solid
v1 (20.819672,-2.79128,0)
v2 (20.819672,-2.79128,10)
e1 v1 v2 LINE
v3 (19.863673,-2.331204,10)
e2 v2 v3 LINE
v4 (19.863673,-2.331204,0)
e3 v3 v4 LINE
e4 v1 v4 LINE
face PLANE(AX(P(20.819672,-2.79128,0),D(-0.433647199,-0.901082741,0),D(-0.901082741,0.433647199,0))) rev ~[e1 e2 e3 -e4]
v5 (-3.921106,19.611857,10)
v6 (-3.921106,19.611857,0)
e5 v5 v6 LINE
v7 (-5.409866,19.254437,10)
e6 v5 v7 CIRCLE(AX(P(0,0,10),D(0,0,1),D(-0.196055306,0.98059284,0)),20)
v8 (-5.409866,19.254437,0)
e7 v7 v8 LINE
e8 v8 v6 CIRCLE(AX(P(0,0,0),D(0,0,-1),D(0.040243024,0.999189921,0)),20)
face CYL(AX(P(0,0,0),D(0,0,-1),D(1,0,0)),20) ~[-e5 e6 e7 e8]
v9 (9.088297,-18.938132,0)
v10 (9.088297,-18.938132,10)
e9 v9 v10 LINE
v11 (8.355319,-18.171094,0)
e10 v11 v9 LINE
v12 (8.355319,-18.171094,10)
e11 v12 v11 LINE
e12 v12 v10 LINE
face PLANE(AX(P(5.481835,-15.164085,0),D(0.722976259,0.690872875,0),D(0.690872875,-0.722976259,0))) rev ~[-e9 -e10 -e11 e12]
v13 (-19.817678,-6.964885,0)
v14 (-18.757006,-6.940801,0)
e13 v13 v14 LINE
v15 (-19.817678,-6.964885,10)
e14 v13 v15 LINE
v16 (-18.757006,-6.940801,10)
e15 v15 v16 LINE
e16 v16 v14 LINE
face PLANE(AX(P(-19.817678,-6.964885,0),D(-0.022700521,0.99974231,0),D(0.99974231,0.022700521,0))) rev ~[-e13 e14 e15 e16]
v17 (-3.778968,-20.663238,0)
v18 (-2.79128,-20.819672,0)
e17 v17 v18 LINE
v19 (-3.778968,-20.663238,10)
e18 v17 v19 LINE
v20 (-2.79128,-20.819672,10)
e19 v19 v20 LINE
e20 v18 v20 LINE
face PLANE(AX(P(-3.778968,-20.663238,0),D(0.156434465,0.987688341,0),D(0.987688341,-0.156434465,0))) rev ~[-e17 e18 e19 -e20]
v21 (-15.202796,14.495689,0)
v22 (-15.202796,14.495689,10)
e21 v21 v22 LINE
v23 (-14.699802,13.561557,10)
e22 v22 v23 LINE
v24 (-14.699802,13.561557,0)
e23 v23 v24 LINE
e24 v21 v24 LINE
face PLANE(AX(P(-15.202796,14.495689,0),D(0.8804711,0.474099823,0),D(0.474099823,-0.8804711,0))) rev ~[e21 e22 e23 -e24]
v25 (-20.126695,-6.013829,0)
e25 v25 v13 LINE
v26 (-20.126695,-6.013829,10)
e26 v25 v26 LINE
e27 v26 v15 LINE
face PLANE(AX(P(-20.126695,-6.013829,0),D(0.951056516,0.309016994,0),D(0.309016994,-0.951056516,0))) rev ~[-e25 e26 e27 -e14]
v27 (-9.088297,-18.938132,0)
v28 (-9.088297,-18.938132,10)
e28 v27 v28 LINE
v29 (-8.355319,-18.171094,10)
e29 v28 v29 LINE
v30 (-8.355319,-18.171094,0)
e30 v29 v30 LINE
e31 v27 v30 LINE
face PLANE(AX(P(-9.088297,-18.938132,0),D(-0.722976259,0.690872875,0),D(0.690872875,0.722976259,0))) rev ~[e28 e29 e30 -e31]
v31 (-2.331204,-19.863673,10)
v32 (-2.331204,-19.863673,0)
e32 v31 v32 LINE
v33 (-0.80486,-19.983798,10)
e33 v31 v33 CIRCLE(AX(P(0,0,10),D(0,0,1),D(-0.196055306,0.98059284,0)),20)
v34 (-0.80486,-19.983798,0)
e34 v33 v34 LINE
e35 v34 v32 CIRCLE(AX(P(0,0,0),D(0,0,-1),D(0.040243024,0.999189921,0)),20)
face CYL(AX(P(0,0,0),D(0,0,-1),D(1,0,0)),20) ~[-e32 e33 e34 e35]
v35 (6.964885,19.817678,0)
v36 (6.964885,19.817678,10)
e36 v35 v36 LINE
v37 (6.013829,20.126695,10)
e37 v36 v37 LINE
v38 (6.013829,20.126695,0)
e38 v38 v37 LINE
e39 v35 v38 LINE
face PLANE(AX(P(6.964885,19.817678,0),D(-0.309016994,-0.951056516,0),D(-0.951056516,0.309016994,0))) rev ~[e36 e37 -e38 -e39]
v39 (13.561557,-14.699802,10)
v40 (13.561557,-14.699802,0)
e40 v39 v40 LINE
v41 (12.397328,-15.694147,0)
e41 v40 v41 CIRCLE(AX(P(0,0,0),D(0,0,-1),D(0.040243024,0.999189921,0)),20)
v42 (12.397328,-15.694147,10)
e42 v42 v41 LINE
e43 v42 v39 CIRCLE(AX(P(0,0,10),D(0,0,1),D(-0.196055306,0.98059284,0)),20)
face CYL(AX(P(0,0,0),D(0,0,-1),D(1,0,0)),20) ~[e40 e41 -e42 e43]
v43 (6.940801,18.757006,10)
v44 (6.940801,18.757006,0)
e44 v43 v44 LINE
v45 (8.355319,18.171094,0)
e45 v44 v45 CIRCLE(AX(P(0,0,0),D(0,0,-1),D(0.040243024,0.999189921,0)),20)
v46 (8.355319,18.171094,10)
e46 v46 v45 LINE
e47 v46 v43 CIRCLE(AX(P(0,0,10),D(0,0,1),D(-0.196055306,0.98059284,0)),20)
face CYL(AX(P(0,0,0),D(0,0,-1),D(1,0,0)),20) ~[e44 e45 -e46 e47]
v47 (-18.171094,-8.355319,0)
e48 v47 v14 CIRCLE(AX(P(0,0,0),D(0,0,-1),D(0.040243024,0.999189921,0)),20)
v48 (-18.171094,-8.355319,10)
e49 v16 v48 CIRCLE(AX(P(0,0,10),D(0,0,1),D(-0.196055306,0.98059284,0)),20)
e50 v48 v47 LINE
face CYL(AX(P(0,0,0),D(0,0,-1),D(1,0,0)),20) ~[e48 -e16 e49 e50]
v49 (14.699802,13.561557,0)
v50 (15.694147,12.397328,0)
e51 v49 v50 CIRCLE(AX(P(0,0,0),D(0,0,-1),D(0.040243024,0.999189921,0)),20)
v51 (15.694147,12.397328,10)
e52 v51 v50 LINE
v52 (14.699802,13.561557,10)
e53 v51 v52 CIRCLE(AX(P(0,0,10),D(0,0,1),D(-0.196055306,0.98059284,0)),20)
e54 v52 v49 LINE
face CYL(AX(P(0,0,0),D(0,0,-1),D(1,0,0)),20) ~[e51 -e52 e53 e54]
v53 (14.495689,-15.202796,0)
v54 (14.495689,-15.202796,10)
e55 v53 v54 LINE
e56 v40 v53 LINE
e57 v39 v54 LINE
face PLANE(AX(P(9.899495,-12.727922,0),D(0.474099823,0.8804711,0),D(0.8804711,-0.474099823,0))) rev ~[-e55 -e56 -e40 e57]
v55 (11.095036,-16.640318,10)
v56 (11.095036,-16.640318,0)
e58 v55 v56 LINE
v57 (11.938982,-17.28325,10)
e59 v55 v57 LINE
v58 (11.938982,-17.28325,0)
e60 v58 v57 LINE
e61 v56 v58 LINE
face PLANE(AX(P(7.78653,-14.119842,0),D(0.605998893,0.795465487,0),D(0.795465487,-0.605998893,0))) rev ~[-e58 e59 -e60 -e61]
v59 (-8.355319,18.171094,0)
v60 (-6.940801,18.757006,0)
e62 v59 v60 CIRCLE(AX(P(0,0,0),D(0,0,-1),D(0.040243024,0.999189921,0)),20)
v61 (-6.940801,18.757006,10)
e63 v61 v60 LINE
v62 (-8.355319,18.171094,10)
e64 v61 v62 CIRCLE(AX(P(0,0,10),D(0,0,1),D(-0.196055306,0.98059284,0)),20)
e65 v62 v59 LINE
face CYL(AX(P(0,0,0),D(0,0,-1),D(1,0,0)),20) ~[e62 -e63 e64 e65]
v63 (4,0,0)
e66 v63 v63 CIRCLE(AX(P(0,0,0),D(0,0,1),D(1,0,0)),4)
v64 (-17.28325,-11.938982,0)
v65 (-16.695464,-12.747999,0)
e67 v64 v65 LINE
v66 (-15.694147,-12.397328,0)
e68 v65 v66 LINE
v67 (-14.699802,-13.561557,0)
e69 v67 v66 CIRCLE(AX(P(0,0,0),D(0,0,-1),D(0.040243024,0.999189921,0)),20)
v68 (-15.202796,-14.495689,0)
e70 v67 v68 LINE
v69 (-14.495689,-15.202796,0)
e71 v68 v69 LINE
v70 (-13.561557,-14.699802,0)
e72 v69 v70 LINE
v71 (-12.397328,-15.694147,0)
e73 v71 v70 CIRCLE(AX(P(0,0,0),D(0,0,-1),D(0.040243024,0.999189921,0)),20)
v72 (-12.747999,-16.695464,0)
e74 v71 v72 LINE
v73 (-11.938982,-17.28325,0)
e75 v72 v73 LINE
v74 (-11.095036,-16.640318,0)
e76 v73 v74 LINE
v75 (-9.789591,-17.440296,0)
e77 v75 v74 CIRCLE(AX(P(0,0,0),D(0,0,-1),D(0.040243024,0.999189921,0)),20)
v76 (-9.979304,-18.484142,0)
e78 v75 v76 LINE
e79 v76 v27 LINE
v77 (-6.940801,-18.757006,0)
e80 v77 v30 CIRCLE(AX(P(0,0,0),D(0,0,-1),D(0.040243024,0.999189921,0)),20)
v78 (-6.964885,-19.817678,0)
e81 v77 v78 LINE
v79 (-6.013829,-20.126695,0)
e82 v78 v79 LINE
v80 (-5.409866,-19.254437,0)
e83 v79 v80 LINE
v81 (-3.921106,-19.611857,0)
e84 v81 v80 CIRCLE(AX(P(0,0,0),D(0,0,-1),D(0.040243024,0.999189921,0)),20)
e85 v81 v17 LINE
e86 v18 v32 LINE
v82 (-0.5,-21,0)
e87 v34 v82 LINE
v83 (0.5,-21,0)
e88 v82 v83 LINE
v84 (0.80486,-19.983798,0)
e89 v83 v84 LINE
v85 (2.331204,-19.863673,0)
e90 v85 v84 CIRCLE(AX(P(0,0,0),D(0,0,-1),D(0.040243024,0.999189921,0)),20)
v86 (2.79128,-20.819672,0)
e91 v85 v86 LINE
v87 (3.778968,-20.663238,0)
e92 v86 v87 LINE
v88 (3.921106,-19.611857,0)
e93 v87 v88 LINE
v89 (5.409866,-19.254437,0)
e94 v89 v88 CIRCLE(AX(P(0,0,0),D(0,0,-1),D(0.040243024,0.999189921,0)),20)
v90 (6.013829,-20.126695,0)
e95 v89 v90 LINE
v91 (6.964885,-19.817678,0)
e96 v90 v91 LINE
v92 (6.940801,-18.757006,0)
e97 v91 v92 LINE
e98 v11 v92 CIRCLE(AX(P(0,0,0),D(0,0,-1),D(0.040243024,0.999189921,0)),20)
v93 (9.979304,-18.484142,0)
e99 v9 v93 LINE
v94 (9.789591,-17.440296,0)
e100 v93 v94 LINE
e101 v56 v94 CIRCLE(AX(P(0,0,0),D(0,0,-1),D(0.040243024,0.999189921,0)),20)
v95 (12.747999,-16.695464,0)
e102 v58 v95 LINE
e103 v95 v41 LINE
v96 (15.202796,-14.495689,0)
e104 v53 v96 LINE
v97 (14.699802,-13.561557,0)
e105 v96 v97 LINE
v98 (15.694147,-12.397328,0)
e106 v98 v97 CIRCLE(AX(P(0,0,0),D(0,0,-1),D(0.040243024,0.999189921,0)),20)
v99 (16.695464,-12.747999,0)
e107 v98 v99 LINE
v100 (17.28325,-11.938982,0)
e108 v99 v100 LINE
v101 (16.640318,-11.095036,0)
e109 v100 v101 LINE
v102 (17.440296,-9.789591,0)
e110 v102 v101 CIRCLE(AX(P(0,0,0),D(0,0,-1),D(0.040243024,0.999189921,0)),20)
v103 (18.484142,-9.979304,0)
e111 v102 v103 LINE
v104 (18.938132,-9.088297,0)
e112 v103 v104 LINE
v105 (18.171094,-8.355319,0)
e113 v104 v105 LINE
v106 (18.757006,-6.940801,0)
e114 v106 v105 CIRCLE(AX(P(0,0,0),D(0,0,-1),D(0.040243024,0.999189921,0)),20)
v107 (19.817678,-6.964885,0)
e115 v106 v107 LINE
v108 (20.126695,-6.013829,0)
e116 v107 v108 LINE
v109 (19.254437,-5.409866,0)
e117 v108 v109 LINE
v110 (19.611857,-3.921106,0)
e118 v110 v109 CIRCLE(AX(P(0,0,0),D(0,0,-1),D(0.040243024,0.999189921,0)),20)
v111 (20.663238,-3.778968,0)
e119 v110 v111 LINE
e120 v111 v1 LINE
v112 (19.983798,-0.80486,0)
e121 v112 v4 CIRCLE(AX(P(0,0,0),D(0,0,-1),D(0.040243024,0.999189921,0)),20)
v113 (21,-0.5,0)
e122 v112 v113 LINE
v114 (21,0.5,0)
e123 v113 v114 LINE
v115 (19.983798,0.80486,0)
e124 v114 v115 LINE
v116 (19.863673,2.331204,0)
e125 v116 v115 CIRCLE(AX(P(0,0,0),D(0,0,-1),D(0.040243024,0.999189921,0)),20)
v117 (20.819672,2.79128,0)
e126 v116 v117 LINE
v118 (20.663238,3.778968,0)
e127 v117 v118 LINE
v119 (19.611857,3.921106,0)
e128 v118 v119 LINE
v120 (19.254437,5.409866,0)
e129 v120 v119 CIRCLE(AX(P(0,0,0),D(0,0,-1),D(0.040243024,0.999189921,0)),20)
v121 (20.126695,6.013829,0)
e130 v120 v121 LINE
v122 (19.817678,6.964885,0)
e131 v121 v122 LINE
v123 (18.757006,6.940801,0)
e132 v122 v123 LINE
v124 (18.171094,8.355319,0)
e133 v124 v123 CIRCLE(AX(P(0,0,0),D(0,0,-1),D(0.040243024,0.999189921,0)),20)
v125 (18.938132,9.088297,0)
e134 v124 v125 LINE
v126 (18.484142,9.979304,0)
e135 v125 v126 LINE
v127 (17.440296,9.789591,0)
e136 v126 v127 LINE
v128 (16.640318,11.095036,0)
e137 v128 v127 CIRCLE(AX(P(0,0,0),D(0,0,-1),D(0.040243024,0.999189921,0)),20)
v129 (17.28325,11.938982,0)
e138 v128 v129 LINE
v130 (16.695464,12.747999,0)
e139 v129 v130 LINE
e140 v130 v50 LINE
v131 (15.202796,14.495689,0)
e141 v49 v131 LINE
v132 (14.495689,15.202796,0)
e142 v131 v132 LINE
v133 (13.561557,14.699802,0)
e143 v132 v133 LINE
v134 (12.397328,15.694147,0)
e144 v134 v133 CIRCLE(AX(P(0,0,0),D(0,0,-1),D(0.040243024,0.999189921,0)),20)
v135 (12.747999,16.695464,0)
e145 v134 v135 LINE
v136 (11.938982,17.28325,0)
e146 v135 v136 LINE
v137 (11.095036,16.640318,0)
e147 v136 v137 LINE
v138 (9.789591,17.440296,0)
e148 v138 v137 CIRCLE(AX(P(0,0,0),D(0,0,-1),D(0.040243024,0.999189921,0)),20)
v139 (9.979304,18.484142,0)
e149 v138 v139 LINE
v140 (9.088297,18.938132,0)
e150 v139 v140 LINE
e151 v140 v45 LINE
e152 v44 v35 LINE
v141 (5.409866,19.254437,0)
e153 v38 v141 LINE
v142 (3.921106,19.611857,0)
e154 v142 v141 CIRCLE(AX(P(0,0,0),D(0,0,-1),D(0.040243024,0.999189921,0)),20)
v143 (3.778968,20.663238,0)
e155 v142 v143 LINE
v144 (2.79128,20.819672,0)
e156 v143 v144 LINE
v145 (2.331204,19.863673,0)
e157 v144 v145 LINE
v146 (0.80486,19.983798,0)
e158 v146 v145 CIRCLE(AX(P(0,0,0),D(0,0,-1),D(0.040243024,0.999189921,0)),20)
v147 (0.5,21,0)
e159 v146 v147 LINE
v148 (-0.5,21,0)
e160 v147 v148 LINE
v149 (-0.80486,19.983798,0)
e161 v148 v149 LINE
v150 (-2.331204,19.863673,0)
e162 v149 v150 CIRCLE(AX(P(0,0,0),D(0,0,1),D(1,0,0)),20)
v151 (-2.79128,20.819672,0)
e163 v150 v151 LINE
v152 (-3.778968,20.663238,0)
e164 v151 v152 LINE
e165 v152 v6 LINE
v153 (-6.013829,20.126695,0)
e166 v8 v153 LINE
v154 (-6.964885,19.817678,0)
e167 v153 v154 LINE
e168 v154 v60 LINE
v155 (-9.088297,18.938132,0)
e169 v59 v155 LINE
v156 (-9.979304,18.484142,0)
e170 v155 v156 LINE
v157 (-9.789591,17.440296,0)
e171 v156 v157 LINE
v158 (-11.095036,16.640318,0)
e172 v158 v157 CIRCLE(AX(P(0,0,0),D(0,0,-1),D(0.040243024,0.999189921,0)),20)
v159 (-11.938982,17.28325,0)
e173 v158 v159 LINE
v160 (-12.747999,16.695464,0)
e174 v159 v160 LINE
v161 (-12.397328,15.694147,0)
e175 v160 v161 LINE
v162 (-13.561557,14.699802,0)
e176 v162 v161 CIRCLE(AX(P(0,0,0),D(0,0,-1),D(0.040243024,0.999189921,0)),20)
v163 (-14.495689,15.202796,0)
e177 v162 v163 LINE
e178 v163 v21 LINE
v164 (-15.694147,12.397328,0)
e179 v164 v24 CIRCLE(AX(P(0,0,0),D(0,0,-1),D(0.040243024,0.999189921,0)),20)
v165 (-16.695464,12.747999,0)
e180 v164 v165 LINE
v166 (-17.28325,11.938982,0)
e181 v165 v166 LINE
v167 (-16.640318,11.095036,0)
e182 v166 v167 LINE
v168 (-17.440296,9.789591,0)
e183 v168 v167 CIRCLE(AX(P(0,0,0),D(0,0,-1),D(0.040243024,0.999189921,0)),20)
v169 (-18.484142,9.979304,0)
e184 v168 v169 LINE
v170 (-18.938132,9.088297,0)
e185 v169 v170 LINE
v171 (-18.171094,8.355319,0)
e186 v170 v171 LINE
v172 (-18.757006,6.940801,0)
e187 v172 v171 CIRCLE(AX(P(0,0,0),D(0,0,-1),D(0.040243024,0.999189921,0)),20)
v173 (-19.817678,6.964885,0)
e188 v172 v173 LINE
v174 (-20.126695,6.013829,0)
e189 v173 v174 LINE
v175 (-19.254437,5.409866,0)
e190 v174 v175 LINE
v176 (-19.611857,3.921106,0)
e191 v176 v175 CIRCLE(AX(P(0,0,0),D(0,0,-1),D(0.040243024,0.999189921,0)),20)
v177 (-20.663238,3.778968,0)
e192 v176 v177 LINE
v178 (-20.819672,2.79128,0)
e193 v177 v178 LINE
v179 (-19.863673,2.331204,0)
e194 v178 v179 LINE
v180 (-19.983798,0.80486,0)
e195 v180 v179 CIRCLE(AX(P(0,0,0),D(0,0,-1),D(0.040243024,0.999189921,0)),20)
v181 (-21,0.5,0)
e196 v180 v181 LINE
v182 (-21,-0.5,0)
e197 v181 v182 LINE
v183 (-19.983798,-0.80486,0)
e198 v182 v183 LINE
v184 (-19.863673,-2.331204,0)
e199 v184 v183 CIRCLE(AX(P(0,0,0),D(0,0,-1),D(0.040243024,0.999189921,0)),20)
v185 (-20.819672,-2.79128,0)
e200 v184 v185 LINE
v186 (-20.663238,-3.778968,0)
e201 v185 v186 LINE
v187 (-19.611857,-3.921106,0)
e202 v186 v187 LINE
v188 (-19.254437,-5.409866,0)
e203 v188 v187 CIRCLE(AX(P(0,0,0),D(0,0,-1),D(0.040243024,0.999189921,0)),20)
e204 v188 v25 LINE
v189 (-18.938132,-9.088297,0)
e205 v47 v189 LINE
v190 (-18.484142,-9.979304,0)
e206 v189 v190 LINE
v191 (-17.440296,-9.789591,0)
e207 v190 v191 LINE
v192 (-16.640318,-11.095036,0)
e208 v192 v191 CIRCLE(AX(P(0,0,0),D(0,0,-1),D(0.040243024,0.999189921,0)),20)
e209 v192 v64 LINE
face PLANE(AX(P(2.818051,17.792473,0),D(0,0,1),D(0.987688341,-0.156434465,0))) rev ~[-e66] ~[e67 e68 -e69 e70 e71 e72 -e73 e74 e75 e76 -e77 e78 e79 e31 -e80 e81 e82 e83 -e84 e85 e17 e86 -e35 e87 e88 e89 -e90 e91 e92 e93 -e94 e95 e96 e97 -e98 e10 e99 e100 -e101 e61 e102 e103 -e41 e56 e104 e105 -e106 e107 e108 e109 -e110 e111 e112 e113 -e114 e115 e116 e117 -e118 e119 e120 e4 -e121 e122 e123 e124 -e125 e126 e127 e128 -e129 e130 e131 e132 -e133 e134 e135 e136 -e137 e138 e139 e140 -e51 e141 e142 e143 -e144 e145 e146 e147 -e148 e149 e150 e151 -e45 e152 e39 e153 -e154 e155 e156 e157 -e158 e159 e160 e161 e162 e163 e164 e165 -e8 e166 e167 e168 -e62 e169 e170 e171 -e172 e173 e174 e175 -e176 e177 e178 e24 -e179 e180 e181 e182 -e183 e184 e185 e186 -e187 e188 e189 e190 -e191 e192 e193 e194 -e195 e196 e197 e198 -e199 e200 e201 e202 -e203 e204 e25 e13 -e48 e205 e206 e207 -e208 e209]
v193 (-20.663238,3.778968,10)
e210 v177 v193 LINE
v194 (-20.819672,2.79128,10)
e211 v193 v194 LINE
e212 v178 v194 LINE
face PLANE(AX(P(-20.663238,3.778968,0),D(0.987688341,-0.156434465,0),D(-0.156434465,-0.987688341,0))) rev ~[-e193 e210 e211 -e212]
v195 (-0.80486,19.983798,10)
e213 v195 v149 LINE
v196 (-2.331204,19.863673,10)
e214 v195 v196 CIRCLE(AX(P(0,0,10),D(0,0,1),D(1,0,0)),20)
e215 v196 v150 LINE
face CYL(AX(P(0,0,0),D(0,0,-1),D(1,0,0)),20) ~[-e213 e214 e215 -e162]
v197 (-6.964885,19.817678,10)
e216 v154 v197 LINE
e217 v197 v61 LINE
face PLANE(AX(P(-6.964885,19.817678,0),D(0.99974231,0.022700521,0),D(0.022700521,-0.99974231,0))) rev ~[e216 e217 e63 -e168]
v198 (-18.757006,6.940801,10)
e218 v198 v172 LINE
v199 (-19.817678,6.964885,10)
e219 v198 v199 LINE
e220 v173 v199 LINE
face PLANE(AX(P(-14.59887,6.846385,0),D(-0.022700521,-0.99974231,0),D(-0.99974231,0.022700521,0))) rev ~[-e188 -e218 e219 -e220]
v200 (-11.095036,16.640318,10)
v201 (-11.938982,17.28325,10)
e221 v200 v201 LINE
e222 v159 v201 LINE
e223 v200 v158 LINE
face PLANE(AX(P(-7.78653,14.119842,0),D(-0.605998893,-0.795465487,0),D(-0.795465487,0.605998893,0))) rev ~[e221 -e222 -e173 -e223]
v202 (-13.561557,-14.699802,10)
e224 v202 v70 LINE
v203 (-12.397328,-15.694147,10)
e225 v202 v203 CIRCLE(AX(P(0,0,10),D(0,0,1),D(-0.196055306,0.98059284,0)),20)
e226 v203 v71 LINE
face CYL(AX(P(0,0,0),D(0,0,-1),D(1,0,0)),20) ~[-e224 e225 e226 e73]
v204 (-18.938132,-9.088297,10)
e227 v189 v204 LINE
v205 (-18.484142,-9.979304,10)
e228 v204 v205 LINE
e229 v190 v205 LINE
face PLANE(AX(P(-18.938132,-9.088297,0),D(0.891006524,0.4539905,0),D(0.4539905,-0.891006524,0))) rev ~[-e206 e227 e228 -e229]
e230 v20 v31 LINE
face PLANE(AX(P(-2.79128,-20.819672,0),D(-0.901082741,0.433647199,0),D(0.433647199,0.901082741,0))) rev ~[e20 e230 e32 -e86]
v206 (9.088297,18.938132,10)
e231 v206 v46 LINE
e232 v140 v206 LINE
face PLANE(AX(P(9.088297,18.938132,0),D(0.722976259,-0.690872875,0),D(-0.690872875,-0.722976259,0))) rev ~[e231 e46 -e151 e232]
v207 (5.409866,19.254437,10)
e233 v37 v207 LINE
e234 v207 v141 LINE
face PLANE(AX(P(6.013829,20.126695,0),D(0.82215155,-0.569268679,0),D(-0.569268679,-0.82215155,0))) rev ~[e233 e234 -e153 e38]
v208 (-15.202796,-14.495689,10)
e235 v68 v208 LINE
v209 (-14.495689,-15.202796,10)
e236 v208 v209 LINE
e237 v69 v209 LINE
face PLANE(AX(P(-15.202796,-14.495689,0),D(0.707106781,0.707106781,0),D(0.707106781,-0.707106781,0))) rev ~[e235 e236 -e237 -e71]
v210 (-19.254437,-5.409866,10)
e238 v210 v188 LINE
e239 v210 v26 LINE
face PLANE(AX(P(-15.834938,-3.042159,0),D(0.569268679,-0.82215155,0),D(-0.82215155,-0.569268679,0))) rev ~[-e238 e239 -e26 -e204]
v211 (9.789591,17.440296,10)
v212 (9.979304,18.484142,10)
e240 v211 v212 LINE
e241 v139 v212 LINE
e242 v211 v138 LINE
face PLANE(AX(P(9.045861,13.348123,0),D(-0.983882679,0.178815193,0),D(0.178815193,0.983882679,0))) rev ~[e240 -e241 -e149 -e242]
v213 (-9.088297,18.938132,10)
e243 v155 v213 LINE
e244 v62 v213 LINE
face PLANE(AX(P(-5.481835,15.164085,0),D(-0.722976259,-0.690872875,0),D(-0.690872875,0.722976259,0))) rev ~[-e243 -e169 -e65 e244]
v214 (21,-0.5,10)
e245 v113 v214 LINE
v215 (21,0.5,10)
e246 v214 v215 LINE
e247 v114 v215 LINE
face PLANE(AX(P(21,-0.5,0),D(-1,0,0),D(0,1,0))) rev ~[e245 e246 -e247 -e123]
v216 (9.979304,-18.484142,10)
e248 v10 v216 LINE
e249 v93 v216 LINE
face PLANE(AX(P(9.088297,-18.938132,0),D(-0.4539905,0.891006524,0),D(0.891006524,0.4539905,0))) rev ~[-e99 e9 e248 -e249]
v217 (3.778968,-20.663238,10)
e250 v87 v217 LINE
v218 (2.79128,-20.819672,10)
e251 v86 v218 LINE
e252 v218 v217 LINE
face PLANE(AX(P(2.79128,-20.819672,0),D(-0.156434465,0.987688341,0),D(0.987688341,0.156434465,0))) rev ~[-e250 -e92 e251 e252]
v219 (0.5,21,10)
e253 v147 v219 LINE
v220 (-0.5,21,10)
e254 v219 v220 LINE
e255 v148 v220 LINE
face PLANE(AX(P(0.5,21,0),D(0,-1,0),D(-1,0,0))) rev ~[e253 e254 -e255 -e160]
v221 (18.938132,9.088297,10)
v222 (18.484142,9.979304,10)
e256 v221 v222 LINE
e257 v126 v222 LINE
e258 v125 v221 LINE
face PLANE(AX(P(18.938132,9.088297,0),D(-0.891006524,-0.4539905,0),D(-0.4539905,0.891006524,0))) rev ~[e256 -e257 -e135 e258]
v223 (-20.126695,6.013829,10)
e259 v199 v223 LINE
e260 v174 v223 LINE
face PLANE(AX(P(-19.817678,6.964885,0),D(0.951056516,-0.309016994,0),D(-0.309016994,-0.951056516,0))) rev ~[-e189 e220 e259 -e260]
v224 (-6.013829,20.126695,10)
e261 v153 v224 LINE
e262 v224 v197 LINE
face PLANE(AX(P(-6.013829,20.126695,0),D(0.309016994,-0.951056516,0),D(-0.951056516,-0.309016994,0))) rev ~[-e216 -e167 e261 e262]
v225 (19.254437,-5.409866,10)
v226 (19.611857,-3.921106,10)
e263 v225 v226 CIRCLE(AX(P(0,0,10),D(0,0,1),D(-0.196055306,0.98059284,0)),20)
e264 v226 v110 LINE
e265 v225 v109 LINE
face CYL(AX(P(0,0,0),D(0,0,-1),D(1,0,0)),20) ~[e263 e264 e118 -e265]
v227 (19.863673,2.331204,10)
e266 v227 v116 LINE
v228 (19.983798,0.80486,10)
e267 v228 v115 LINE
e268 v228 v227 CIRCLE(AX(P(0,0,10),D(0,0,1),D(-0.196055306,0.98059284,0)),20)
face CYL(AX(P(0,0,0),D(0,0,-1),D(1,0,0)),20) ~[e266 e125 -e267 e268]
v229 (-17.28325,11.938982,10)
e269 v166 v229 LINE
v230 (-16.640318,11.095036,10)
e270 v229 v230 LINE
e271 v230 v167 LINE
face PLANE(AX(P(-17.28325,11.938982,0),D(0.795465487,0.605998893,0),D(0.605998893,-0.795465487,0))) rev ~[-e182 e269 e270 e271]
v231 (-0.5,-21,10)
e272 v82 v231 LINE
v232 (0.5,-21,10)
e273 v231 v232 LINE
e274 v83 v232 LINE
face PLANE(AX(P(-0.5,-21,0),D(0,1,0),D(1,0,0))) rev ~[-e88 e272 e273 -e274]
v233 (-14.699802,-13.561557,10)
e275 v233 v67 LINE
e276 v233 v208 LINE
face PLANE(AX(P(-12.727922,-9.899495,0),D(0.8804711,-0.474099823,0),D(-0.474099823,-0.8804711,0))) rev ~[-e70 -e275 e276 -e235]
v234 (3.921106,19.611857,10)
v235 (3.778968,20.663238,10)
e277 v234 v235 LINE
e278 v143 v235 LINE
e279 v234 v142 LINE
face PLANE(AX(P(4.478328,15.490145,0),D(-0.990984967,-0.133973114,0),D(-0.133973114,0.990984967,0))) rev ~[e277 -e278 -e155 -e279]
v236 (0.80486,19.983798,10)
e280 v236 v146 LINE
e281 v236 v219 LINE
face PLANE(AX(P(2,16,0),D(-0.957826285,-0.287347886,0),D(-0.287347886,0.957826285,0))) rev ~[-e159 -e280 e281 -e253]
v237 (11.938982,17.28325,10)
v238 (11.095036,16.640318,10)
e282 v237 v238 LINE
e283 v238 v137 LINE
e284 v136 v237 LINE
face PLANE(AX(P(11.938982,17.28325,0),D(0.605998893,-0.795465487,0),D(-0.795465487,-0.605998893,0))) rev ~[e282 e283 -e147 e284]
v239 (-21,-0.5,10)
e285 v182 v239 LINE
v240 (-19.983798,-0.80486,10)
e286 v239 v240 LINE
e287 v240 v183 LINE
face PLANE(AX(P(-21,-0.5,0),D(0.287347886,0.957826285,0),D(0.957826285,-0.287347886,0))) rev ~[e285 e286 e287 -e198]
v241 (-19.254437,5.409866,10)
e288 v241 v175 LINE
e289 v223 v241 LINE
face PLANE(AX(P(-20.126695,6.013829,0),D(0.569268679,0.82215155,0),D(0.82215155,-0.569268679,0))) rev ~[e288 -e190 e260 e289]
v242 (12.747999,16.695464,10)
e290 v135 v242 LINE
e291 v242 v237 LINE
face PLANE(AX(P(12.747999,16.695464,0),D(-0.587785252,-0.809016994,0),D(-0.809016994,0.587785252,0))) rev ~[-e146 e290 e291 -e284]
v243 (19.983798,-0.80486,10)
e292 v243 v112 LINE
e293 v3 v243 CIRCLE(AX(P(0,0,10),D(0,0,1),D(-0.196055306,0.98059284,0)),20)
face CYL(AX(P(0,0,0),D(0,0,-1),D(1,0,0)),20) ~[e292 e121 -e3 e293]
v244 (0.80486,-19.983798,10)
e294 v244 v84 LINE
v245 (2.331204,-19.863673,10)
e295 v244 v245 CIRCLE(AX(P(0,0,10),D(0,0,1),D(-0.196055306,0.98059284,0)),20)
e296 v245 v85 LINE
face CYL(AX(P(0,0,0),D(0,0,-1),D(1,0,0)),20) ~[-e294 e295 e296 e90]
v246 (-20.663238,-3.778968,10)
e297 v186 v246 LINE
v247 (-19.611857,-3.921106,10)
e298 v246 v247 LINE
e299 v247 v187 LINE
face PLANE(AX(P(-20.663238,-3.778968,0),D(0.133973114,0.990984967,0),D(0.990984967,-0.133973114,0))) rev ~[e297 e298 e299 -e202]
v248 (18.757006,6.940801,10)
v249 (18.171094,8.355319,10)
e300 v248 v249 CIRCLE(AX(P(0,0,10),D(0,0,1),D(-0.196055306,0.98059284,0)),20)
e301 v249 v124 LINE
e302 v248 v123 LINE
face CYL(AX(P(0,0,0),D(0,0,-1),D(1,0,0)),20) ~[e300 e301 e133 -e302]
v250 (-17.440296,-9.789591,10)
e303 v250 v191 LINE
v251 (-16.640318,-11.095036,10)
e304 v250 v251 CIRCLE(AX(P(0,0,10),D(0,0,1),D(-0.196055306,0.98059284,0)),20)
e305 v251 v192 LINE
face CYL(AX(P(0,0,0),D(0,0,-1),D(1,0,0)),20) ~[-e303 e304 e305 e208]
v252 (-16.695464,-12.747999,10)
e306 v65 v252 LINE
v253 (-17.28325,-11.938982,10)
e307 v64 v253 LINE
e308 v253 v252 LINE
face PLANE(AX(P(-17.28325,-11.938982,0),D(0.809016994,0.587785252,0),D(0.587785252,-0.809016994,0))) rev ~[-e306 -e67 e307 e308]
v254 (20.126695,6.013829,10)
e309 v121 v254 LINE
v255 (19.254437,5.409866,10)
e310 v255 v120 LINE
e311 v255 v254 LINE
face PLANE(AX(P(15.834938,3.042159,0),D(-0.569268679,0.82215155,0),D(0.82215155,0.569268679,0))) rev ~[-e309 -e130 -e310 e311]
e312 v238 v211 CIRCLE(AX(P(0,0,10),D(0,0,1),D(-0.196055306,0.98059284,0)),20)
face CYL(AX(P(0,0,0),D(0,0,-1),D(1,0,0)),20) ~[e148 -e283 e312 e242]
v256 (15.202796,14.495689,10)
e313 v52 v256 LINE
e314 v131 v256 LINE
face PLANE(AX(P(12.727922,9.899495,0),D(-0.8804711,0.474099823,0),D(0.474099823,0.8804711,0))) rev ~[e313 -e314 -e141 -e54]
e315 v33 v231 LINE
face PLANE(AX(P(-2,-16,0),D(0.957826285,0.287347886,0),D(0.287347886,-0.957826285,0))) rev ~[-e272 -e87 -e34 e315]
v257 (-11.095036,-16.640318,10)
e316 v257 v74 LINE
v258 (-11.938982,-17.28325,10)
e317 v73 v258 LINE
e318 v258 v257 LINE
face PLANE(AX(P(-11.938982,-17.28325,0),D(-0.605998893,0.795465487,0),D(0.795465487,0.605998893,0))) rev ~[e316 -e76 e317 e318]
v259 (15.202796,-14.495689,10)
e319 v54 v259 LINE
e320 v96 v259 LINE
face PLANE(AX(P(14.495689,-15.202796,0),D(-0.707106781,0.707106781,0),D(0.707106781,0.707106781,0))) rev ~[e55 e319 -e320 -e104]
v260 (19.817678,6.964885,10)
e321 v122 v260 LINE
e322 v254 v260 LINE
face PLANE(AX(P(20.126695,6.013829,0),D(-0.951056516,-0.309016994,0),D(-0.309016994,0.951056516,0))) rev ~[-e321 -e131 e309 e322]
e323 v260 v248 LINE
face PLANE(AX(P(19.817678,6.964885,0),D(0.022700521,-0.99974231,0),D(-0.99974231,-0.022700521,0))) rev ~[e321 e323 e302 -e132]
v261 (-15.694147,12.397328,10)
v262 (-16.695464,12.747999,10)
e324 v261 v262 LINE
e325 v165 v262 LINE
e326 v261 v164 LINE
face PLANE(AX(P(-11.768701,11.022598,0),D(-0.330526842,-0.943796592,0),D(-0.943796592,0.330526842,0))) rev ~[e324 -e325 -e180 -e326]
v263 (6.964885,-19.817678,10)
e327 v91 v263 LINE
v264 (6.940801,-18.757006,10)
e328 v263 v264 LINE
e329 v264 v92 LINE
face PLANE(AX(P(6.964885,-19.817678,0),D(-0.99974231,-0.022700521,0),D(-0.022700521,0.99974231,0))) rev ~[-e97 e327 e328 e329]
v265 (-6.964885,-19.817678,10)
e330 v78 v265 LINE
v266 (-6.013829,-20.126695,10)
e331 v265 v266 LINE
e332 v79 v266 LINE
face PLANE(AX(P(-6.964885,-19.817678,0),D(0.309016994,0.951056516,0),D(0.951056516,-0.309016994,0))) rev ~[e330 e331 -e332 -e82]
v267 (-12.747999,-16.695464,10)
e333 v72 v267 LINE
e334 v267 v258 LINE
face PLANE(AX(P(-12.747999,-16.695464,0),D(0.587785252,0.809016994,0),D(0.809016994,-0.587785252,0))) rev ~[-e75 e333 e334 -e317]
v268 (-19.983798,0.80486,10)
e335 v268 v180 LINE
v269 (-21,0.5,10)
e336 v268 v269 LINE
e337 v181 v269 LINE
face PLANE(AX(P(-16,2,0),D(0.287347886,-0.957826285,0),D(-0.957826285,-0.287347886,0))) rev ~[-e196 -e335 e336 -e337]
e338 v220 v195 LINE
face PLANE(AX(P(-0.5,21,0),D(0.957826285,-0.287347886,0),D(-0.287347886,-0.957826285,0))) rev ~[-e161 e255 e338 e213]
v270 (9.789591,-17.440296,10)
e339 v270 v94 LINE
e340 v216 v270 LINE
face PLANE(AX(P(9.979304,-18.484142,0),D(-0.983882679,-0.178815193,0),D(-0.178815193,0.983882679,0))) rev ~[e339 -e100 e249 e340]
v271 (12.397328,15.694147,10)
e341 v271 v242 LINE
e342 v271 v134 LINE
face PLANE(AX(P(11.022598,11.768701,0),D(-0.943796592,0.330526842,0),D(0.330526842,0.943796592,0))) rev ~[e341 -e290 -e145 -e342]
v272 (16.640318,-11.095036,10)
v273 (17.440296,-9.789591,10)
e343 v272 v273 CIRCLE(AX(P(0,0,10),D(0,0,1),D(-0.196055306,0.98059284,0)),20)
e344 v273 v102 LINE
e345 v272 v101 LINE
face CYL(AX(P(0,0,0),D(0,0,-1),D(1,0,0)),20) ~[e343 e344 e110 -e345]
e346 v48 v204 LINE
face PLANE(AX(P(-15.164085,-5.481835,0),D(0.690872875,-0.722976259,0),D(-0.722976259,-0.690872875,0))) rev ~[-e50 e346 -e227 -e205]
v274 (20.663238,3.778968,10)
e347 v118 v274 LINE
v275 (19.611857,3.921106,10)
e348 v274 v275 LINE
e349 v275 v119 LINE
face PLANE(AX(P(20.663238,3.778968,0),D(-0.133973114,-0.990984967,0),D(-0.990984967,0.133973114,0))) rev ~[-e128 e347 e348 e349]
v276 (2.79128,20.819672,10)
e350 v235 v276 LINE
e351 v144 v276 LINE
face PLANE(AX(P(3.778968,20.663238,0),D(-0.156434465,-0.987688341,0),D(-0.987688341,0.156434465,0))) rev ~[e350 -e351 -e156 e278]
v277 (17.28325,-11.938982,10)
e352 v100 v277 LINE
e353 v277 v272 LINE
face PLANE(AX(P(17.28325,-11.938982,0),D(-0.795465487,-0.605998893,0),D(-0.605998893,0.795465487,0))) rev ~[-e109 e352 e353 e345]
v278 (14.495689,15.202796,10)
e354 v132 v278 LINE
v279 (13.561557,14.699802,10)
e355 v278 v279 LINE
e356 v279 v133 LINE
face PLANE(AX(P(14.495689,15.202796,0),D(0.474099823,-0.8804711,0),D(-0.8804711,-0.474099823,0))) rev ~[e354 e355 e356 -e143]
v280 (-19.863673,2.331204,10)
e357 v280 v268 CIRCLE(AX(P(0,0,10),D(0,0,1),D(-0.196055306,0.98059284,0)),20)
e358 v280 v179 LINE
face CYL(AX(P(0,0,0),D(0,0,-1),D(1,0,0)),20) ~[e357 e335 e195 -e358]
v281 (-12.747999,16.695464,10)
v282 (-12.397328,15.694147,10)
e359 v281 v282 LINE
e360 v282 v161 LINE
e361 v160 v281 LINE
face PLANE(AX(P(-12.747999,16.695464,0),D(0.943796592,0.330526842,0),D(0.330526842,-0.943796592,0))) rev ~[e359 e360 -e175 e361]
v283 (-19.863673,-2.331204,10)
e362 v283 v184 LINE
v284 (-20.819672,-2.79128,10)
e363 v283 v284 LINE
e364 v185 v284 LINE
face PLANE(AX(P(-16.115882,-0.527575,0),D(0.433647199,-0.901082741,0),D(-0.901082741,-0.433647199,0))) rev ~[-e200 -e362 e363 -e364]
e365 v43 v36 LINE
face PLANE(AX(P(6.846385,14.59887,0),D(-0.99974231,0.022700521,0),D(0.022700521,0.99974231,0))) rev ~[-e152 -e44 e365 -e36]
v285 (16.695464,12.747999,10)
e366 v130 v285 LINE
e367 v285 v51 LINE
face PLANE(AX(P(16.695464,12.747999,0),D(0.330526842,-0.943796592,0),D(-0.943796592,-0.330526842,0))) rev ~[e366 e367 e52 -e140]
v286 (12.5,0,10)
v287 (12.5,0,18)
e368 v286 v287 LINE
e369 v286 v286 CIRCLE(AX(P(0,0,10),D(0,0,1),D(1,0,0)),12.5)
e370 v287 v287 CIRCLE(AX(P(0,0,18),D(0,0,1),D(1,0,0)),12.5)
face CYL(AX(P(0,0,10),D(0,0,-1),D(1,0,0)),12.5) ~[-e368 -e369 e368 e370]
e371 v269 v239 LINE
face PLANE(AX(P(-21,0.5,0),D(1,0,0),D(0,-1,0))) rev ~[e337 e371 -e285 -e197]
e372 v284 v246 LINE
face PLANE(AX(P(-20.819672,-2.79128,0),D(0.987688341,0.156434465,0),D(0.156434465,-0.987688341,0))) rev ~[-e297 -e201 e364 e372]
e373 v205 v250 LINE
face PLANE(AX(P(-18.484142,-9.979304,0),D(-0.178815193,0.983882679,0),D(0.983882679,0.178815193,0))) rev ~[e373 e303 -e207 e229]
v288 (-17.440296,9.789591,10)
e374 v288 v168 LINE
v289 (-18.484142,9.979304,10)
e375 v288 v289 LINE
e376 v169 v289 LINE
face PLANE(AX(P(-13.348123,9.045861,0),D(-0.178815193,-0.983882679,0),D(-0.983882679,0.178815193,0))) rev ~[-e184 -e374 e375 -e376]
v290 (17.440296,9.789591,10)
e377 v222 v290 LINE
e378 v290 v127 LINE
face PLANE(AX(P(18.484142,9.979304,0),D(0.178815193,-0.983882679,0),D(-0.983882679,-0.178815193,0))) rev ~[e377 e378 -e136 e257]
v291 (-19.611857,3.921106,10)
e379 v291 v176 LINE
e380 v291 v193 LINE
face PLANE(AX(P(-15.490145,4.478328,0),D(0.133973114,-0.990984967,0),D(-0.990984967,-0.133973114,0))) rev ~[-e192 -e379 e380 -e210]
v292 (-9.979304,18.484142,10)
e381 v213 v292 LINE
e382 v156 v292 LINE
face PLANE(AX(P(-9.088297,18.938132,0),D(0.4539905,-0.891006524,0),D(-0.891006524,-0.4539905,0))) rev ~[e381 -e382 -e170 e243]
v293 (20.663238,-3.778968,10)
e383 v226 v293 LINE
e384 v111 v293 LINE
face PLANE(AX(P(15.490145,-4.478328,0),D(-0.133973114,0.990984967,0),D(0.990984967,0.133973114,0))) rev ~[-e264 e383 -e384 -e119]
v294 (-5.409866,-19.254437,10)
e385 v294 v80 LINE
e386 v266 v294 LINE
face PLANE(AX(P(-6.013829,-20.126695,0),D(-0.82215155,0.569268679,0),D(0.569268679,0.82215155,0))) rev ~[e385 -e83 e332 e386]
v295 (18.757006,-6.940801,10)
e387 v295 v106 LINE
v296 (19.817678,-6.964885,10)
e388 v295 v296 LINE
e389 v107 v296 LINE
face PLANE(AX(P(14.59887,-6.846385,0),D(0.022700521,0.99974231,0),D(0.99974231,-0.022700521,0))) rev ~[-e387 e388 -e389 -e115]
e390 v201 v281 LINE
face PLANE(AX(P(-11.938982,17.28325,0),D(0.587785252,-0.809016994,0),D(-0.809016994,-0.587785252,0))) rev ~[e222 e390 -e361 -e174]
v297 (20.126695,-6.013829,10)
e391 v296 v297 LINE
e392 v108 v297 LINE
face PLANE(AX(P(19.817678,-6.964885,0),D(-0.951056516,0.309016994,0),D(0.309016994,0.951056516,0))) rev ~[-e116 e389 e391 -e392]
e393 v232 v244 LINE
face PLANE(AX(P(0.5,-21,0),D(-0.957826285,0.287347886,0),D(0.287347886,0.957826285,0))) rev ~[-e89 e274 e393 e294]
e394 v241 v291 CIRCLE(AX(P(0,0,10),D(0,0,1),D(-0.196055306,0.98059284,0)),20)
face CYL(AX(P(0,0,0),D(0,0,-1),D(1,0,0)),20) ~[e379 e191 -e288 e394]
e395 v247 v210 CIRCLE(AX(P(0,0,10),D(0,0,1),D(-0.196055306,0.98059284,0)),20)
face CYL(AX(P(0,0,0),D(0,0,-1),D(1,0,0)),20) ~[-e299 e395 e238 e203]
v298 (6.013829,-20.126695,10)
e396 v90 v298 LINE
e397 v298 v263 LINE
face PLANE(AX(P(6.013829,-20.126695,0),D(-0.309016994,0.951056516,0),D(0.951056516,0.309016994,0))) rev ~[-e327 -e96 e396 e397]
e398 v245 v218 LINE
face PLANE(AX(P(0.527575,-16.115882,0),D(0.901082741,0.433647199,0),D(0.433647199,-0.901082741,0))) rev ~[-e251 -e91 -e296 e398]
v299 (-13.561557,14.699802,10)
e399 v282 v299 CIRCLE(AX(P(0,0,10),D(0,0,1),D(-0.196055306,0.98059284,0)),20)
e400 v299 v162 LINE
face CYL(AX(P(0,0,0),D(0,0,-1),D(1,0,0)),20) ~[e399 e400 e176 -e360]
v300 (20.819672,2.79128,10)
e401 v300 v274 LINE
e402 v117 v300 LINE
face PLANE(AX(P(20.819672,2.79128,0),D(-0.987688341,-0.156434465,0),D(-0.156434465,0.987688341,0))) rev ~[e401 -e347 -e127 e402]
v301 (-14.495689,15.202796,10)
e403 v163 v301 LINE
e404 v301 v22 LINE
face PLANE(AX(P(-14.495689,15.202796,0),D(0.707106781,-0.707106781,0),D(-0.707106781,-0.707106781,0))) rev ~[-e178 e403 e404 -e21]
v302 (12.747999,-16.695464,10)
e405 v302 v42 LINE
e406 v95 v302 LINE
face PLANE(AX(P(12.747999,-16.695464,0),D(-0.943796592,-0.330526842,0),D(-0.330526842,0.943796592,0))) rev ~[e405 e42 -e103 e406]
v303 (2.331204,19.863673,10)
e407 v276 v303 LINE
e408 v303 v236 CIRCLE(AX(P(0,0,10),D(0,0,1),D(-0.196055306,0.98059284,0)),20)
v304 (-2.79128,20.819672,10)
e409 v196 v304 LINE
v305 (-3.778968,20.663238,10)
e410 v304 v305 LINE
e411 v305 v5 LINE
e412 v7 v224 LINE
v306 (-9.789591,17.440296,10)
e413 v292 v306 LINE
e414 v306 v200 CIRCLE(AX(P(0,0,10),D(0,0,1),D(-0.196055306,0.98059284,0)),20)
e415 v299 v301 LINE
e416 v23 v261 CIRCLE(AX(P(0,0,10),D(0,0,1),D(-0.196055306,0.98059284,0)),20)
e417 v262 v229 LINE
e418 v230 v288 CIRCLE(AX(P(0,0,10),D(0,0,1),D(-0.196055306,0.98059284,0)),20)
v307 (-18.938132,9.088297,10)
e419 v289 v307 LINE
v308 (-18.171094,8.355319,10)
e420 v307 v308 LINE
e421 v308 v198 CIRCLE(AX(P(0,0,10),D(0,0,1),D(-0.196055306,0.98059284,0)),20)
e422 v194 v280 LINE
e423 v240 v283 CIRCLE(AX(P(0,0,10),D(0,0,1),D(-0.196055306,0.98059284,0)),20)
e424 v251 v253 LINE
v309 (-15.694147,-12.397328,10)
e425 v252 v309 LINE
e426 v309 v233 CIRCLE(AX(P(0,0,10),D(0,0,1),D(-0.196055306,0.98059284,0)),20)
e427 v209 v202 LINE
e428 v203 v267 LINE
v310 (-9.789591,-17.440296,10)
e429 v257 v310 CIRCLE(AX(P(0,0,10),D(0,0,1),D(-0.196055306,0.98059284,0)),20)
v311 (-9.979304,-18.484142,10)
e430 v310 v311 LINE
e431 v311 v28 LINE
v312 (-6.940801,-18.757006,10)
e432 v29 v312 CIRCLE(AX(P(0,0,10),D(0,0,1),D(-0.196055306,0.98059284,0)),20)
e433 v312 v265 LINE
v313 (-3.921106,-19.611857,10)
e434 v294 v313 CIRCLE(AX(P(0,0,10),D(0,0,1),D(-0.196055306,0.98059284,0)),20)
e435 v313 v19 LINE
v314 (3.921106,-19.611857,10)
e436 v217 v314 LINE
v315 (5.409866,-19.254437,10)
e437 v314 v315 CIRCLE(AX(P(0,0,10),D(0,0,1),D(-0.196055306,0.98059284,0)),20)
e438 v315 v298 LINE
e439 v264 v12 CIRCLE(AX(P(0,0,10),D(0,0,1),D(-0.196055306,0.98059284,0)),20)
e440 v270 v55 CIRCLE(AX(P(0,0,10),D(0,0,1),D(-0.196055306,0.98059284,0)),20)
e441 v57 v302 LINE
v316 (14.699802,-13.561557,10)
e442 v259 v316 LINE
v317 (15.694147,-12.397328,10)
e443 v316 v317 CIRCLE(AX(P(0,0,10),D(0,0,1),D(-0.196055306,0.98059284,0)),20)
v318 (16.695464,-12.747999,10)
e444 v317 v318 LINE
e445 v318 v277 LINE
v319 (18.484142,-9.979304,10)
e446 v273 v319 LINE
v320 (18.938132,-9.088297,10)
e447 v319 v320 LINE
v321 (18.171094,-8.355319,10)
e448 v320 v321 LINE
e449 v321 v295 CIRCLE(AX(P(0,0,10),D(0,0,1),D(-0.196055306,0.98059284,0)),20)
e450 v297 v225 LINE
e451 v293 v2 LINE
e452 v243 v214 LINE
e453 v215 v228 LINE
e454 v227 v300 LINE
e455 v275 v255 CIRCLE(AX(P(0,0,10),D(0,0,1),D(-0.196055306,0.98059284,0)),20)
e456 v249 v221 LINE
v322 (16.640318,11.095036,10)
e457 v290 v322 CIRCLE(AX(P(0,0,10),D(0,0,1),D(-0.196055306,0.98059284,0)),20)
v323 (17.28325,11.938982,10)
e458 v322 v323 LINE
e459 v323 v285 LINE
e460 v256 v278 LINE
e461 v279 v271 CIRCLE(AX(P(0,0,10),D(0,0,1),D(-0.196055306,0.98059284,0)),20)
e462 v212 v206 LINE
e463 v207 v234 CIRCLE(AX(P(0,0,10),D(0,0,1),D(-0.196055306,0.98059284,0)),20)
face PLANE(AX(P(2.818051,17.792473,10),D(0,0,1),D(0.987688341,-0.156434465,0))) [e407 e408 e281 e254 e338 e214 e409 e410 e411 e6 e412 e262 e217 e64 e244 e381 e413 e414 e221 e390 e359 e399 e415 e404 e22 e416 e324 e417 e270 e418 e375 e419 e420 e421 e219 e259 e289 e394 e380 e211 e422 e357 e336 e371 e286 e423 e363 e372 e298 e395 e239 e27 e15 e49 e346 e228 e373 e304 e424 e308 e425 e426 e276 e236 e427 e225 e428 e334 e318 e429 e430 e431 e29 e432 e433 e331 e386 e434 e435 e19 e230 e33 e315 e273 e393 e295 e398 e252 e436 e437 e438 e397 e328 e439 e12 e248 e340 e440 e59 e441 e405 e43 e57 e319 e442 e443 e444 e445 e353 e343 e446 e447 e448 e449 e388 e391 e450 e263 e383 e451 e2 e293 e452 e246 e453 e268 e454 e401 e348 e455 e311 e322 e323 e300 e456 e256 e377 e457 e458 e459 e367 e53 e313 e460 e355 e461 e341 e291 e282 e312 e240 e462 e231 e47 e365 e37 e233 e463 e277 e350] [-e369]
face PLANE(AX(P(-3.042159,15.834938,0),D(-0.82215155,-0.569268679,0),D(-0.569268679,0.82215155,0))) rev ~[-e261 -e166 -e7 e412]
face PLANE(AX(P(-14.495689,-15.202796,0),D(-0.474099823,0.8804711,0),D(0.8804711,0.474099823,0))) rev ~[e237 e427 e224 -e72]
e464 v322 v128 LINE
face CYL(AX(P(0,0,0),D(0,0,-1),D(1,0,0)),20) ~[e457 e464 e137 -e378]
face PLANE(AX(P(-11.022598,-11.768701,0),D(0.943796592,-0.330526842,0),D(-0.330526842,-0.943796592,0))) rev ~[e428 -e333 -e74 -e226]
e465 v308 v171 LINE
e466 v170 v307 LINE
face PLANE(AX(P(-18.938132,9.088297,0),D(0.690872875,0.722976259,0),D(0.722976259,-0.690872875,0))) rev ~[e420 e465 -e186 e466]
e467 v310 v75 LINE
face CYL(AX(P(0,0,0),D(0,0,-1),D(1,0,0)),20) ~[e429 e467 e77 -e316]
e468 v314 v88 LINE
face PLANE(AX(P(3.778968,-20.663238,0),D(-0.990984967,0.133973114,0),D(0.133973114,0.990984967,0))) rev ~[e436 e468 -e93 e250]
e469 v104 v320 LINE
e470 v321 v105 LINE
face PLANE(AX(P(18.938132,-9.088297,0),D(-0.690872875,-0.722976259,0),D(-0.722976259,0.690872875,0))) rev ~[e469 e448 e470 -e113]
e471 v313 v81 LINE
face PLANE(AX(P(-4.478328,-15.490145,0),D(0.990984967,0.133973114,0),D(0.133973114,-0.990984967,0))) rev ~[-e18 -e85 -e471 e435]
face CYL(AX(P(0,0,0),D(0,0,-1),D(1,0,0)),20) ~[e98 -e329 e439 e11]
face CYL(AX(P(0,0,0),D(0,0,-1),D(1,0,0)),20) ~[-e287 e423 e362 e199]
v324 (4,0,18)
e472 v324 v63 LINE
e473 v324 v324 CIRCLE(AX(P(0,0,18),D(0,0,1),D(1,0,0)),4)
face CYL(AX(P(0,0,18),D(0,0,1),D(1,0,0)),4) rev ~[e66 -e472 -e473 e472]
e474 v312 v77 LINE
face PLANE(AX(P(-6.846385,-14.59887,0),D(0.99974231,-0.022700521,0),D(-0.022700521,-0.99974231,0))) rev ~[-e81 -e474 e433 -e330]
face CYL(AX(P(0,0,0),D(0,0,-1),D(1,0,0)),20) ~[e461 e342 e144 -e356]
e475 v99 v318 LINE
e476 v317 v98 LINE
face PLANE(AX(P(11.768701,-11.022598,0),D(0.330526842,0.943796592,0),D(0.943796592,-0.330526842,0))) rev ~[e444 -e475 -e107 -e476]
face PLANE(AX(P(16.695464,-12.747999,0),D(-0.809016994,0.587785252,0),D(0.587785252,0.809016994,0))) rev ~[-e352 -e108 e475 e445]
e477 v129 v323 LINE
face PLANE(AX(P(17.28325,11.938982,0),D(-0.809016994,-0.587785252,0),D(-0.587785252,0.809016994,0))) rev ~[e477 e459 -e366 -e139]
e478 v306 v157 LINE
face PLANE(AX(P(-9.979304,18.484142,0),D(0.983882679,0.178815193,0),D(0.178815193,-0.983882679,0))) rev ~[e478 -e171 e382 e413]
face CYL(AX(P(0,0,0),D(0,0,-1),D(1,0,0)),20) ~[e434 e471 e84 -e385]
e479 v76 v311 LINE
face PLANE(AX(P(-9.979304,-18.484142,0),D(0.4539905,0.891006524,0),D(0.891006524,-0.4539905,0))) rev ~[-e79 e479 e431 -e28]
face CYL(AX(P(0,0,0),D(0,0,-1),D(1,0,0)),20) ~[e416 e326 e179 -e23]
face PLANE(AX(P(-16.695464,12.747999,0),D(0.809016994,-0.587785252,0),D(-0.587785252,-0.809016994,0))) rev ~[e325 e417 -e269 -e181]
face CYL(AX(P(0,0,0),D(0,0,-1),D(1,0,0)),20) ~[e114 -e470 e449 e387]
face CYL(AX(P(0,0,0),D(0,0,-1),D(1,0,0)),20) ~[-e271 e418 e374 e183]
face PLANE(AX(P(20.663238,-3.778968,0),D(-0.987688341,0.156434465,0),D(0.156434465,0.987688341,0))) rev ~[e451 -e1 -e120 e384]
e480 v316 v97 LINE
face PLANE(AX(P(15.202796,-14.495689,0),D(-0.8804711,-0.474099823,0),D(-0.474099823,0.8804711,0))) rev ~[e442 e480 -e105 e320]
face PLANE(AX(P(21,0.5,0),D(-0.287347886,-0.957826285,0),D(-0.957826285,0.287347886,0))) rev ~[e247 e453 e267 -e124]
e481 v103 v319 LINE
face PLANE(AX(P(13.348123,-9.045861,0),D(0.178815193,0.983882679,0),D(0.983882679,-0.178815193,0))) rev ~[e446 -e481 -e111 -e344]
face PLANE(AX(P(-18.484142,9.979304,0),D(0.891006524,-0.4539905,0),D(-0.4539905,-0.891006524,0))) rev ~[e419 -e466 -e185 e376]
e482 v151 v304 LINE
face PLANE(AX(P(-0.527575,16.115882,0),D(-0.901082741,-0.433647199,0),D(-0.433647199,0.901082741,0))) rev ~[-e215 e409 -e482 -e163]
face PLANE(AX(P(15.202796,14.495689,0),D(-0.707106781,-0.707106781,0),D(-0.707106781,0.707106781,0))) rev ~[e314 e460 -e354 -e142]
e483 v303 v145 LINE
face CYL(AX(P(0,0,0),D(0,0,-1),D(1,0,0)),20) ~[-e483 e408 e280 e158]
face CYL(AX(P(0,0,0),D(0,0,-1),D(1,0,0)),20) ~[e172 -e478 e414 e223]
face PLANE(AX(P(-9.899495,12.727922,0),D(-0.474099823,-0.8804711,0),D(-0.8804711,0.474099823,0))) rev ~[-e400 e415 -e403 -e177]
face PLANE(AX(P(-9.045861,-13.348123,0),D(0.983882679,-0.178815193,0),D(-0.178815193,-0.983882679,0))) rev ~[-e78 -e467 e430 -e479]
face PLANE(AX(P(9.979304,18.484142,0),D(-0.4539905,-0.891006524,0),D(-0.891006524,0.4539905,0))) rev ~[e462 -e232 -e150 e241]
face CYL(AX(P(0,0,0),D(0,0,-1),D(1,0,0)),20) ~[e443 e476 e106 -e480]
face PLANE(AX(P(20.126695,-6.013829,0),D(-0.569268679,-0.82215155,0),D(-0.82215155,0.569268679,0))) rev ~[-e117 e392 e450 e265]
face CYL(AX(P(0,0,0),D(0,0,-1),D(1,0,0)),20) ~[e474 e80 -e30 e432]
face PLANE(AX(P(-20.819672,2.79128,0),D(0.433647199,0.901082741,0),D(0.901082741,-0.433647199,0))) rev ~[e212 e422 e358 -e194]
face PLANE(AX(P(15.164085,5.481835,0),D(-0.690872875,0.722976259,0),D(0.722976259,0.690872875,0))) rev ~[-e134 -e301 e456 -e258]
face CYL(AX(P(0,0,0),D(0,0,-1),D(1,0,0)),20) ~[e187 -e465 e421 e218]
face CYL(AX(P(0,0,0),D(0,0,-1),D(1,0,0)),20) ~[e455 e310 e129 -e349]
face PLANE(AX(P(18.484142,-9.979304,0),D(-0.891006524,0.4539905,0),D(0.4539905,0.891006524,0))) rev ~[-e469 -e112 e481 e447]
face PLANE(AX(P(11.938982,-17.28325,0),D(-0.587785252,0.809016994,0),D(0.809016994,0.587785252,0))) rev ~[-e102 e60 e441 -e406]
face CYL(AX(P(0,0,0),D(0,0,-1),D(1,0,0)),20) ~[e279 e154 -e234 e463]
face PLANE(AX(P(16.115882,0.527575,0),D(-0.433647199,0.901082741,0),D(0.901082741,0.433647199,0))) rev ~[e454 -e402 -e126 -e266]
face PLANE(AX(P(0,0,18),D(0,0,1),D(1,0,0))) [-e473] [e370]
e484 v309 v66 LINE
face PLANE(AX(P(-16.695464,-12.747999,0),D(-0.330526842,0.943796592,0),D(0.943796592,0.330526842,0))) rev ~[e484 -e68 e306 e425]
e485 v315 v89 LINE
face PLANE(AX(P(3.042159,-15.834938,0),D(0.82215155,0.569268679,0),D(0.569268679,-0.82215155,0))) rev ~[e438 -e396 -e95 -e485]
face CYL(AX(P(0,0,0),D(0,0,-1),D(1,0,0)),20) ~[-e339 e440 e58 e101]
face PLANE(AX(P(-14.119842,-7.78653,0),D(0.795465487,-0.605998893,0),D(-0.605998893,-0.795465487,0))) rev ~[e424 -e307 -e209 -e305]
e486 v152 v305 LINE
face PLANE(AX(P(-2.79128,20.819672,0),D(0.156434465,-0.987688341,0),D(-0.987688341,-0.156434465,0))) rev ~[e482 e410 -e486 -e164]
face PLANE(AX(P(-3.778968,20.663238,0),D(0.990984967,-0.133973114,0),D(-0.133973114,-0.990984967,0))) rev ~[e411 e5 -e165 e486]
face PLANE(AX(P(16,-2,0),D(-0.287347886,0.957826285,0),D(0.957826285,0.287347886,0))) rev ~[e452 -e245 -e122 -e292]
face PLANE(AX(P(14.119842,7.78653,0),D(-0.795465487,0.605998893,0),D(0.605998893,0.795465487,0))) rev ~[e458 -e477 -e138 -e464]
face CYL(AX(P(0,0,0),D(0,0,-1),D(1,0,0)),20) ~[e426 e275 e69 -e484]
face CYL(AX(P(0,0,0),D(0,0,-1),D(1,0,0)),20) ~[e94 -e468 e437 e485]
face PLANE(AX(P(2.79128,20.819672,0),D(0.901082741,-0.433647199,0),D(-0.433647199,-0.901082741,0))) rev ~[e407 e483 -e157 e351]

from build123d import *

# Parameters (mm, degrees)
SKETCH_1_R               = 20
EXTRUDE_1_DEPTH          = 10
SKETCH_2_R               = 12.5
EXTRUDE_2_DEPTH          = 8
SKETCH_3_R               = 4
CUT_EXTRUDE_1_DEPTH      = 19
EXTRUDE_3_DEPTH          = 10
PATTERN_CIRCULAR_1_COUNT = 40


with BuildPart() as part:
    # 草圖1 → 填料-伸長1 (new body)
    with BuildSketch(Plane.XY):
        Circle(SKETCH_1_R)
    extrude(amount=EXTRUDE_1_DEPTH)

    # 草圖2 → 填料-伸長2 (add)
    with BuildSketch(Plane.XY.offset(10)):
        Circle(SKETCH_2_R)
    extrude(amount=EXTRUDE_2_DEPTH)

    # 草圖3 → 除料-伸長1 (cut, through all)
    with BuildSketch(Plane.XY.offset(18)):
        Circle(SKETCH_3_R)
    extrude(amount=-CUT_EXTRUDE_1_DEPTH, mode=Mode.SUBTRACT)

    # 草圖4 → 填料-伸長3 (add)
    with BuildSketch(Plane(origin=(0, 0, 0), x_dir=(-1, 0, 0), z_dir=(0, 0, -1))):
        Polygon((-0.5, 21), (0.5, 21), (2, 16), (-2, 16), align=None)
    extrude_3 = extrude(amount=-EXTRUDE_3_DEPTH)

    # 環狀複製排列1: 填料-伸長3 ×40 about axis
    pattern_circular_1_axis = Axis((0, 0, 0), (0, 0, 1))
    for i in range(1, PATTERN_CIRCULAR_1_COUNT):
        add(extrude_3.rotate(pattern_circular_1_axis, i * 360 / PATTERN_CIRCULAR_1_COUNT))


solid = part.part
